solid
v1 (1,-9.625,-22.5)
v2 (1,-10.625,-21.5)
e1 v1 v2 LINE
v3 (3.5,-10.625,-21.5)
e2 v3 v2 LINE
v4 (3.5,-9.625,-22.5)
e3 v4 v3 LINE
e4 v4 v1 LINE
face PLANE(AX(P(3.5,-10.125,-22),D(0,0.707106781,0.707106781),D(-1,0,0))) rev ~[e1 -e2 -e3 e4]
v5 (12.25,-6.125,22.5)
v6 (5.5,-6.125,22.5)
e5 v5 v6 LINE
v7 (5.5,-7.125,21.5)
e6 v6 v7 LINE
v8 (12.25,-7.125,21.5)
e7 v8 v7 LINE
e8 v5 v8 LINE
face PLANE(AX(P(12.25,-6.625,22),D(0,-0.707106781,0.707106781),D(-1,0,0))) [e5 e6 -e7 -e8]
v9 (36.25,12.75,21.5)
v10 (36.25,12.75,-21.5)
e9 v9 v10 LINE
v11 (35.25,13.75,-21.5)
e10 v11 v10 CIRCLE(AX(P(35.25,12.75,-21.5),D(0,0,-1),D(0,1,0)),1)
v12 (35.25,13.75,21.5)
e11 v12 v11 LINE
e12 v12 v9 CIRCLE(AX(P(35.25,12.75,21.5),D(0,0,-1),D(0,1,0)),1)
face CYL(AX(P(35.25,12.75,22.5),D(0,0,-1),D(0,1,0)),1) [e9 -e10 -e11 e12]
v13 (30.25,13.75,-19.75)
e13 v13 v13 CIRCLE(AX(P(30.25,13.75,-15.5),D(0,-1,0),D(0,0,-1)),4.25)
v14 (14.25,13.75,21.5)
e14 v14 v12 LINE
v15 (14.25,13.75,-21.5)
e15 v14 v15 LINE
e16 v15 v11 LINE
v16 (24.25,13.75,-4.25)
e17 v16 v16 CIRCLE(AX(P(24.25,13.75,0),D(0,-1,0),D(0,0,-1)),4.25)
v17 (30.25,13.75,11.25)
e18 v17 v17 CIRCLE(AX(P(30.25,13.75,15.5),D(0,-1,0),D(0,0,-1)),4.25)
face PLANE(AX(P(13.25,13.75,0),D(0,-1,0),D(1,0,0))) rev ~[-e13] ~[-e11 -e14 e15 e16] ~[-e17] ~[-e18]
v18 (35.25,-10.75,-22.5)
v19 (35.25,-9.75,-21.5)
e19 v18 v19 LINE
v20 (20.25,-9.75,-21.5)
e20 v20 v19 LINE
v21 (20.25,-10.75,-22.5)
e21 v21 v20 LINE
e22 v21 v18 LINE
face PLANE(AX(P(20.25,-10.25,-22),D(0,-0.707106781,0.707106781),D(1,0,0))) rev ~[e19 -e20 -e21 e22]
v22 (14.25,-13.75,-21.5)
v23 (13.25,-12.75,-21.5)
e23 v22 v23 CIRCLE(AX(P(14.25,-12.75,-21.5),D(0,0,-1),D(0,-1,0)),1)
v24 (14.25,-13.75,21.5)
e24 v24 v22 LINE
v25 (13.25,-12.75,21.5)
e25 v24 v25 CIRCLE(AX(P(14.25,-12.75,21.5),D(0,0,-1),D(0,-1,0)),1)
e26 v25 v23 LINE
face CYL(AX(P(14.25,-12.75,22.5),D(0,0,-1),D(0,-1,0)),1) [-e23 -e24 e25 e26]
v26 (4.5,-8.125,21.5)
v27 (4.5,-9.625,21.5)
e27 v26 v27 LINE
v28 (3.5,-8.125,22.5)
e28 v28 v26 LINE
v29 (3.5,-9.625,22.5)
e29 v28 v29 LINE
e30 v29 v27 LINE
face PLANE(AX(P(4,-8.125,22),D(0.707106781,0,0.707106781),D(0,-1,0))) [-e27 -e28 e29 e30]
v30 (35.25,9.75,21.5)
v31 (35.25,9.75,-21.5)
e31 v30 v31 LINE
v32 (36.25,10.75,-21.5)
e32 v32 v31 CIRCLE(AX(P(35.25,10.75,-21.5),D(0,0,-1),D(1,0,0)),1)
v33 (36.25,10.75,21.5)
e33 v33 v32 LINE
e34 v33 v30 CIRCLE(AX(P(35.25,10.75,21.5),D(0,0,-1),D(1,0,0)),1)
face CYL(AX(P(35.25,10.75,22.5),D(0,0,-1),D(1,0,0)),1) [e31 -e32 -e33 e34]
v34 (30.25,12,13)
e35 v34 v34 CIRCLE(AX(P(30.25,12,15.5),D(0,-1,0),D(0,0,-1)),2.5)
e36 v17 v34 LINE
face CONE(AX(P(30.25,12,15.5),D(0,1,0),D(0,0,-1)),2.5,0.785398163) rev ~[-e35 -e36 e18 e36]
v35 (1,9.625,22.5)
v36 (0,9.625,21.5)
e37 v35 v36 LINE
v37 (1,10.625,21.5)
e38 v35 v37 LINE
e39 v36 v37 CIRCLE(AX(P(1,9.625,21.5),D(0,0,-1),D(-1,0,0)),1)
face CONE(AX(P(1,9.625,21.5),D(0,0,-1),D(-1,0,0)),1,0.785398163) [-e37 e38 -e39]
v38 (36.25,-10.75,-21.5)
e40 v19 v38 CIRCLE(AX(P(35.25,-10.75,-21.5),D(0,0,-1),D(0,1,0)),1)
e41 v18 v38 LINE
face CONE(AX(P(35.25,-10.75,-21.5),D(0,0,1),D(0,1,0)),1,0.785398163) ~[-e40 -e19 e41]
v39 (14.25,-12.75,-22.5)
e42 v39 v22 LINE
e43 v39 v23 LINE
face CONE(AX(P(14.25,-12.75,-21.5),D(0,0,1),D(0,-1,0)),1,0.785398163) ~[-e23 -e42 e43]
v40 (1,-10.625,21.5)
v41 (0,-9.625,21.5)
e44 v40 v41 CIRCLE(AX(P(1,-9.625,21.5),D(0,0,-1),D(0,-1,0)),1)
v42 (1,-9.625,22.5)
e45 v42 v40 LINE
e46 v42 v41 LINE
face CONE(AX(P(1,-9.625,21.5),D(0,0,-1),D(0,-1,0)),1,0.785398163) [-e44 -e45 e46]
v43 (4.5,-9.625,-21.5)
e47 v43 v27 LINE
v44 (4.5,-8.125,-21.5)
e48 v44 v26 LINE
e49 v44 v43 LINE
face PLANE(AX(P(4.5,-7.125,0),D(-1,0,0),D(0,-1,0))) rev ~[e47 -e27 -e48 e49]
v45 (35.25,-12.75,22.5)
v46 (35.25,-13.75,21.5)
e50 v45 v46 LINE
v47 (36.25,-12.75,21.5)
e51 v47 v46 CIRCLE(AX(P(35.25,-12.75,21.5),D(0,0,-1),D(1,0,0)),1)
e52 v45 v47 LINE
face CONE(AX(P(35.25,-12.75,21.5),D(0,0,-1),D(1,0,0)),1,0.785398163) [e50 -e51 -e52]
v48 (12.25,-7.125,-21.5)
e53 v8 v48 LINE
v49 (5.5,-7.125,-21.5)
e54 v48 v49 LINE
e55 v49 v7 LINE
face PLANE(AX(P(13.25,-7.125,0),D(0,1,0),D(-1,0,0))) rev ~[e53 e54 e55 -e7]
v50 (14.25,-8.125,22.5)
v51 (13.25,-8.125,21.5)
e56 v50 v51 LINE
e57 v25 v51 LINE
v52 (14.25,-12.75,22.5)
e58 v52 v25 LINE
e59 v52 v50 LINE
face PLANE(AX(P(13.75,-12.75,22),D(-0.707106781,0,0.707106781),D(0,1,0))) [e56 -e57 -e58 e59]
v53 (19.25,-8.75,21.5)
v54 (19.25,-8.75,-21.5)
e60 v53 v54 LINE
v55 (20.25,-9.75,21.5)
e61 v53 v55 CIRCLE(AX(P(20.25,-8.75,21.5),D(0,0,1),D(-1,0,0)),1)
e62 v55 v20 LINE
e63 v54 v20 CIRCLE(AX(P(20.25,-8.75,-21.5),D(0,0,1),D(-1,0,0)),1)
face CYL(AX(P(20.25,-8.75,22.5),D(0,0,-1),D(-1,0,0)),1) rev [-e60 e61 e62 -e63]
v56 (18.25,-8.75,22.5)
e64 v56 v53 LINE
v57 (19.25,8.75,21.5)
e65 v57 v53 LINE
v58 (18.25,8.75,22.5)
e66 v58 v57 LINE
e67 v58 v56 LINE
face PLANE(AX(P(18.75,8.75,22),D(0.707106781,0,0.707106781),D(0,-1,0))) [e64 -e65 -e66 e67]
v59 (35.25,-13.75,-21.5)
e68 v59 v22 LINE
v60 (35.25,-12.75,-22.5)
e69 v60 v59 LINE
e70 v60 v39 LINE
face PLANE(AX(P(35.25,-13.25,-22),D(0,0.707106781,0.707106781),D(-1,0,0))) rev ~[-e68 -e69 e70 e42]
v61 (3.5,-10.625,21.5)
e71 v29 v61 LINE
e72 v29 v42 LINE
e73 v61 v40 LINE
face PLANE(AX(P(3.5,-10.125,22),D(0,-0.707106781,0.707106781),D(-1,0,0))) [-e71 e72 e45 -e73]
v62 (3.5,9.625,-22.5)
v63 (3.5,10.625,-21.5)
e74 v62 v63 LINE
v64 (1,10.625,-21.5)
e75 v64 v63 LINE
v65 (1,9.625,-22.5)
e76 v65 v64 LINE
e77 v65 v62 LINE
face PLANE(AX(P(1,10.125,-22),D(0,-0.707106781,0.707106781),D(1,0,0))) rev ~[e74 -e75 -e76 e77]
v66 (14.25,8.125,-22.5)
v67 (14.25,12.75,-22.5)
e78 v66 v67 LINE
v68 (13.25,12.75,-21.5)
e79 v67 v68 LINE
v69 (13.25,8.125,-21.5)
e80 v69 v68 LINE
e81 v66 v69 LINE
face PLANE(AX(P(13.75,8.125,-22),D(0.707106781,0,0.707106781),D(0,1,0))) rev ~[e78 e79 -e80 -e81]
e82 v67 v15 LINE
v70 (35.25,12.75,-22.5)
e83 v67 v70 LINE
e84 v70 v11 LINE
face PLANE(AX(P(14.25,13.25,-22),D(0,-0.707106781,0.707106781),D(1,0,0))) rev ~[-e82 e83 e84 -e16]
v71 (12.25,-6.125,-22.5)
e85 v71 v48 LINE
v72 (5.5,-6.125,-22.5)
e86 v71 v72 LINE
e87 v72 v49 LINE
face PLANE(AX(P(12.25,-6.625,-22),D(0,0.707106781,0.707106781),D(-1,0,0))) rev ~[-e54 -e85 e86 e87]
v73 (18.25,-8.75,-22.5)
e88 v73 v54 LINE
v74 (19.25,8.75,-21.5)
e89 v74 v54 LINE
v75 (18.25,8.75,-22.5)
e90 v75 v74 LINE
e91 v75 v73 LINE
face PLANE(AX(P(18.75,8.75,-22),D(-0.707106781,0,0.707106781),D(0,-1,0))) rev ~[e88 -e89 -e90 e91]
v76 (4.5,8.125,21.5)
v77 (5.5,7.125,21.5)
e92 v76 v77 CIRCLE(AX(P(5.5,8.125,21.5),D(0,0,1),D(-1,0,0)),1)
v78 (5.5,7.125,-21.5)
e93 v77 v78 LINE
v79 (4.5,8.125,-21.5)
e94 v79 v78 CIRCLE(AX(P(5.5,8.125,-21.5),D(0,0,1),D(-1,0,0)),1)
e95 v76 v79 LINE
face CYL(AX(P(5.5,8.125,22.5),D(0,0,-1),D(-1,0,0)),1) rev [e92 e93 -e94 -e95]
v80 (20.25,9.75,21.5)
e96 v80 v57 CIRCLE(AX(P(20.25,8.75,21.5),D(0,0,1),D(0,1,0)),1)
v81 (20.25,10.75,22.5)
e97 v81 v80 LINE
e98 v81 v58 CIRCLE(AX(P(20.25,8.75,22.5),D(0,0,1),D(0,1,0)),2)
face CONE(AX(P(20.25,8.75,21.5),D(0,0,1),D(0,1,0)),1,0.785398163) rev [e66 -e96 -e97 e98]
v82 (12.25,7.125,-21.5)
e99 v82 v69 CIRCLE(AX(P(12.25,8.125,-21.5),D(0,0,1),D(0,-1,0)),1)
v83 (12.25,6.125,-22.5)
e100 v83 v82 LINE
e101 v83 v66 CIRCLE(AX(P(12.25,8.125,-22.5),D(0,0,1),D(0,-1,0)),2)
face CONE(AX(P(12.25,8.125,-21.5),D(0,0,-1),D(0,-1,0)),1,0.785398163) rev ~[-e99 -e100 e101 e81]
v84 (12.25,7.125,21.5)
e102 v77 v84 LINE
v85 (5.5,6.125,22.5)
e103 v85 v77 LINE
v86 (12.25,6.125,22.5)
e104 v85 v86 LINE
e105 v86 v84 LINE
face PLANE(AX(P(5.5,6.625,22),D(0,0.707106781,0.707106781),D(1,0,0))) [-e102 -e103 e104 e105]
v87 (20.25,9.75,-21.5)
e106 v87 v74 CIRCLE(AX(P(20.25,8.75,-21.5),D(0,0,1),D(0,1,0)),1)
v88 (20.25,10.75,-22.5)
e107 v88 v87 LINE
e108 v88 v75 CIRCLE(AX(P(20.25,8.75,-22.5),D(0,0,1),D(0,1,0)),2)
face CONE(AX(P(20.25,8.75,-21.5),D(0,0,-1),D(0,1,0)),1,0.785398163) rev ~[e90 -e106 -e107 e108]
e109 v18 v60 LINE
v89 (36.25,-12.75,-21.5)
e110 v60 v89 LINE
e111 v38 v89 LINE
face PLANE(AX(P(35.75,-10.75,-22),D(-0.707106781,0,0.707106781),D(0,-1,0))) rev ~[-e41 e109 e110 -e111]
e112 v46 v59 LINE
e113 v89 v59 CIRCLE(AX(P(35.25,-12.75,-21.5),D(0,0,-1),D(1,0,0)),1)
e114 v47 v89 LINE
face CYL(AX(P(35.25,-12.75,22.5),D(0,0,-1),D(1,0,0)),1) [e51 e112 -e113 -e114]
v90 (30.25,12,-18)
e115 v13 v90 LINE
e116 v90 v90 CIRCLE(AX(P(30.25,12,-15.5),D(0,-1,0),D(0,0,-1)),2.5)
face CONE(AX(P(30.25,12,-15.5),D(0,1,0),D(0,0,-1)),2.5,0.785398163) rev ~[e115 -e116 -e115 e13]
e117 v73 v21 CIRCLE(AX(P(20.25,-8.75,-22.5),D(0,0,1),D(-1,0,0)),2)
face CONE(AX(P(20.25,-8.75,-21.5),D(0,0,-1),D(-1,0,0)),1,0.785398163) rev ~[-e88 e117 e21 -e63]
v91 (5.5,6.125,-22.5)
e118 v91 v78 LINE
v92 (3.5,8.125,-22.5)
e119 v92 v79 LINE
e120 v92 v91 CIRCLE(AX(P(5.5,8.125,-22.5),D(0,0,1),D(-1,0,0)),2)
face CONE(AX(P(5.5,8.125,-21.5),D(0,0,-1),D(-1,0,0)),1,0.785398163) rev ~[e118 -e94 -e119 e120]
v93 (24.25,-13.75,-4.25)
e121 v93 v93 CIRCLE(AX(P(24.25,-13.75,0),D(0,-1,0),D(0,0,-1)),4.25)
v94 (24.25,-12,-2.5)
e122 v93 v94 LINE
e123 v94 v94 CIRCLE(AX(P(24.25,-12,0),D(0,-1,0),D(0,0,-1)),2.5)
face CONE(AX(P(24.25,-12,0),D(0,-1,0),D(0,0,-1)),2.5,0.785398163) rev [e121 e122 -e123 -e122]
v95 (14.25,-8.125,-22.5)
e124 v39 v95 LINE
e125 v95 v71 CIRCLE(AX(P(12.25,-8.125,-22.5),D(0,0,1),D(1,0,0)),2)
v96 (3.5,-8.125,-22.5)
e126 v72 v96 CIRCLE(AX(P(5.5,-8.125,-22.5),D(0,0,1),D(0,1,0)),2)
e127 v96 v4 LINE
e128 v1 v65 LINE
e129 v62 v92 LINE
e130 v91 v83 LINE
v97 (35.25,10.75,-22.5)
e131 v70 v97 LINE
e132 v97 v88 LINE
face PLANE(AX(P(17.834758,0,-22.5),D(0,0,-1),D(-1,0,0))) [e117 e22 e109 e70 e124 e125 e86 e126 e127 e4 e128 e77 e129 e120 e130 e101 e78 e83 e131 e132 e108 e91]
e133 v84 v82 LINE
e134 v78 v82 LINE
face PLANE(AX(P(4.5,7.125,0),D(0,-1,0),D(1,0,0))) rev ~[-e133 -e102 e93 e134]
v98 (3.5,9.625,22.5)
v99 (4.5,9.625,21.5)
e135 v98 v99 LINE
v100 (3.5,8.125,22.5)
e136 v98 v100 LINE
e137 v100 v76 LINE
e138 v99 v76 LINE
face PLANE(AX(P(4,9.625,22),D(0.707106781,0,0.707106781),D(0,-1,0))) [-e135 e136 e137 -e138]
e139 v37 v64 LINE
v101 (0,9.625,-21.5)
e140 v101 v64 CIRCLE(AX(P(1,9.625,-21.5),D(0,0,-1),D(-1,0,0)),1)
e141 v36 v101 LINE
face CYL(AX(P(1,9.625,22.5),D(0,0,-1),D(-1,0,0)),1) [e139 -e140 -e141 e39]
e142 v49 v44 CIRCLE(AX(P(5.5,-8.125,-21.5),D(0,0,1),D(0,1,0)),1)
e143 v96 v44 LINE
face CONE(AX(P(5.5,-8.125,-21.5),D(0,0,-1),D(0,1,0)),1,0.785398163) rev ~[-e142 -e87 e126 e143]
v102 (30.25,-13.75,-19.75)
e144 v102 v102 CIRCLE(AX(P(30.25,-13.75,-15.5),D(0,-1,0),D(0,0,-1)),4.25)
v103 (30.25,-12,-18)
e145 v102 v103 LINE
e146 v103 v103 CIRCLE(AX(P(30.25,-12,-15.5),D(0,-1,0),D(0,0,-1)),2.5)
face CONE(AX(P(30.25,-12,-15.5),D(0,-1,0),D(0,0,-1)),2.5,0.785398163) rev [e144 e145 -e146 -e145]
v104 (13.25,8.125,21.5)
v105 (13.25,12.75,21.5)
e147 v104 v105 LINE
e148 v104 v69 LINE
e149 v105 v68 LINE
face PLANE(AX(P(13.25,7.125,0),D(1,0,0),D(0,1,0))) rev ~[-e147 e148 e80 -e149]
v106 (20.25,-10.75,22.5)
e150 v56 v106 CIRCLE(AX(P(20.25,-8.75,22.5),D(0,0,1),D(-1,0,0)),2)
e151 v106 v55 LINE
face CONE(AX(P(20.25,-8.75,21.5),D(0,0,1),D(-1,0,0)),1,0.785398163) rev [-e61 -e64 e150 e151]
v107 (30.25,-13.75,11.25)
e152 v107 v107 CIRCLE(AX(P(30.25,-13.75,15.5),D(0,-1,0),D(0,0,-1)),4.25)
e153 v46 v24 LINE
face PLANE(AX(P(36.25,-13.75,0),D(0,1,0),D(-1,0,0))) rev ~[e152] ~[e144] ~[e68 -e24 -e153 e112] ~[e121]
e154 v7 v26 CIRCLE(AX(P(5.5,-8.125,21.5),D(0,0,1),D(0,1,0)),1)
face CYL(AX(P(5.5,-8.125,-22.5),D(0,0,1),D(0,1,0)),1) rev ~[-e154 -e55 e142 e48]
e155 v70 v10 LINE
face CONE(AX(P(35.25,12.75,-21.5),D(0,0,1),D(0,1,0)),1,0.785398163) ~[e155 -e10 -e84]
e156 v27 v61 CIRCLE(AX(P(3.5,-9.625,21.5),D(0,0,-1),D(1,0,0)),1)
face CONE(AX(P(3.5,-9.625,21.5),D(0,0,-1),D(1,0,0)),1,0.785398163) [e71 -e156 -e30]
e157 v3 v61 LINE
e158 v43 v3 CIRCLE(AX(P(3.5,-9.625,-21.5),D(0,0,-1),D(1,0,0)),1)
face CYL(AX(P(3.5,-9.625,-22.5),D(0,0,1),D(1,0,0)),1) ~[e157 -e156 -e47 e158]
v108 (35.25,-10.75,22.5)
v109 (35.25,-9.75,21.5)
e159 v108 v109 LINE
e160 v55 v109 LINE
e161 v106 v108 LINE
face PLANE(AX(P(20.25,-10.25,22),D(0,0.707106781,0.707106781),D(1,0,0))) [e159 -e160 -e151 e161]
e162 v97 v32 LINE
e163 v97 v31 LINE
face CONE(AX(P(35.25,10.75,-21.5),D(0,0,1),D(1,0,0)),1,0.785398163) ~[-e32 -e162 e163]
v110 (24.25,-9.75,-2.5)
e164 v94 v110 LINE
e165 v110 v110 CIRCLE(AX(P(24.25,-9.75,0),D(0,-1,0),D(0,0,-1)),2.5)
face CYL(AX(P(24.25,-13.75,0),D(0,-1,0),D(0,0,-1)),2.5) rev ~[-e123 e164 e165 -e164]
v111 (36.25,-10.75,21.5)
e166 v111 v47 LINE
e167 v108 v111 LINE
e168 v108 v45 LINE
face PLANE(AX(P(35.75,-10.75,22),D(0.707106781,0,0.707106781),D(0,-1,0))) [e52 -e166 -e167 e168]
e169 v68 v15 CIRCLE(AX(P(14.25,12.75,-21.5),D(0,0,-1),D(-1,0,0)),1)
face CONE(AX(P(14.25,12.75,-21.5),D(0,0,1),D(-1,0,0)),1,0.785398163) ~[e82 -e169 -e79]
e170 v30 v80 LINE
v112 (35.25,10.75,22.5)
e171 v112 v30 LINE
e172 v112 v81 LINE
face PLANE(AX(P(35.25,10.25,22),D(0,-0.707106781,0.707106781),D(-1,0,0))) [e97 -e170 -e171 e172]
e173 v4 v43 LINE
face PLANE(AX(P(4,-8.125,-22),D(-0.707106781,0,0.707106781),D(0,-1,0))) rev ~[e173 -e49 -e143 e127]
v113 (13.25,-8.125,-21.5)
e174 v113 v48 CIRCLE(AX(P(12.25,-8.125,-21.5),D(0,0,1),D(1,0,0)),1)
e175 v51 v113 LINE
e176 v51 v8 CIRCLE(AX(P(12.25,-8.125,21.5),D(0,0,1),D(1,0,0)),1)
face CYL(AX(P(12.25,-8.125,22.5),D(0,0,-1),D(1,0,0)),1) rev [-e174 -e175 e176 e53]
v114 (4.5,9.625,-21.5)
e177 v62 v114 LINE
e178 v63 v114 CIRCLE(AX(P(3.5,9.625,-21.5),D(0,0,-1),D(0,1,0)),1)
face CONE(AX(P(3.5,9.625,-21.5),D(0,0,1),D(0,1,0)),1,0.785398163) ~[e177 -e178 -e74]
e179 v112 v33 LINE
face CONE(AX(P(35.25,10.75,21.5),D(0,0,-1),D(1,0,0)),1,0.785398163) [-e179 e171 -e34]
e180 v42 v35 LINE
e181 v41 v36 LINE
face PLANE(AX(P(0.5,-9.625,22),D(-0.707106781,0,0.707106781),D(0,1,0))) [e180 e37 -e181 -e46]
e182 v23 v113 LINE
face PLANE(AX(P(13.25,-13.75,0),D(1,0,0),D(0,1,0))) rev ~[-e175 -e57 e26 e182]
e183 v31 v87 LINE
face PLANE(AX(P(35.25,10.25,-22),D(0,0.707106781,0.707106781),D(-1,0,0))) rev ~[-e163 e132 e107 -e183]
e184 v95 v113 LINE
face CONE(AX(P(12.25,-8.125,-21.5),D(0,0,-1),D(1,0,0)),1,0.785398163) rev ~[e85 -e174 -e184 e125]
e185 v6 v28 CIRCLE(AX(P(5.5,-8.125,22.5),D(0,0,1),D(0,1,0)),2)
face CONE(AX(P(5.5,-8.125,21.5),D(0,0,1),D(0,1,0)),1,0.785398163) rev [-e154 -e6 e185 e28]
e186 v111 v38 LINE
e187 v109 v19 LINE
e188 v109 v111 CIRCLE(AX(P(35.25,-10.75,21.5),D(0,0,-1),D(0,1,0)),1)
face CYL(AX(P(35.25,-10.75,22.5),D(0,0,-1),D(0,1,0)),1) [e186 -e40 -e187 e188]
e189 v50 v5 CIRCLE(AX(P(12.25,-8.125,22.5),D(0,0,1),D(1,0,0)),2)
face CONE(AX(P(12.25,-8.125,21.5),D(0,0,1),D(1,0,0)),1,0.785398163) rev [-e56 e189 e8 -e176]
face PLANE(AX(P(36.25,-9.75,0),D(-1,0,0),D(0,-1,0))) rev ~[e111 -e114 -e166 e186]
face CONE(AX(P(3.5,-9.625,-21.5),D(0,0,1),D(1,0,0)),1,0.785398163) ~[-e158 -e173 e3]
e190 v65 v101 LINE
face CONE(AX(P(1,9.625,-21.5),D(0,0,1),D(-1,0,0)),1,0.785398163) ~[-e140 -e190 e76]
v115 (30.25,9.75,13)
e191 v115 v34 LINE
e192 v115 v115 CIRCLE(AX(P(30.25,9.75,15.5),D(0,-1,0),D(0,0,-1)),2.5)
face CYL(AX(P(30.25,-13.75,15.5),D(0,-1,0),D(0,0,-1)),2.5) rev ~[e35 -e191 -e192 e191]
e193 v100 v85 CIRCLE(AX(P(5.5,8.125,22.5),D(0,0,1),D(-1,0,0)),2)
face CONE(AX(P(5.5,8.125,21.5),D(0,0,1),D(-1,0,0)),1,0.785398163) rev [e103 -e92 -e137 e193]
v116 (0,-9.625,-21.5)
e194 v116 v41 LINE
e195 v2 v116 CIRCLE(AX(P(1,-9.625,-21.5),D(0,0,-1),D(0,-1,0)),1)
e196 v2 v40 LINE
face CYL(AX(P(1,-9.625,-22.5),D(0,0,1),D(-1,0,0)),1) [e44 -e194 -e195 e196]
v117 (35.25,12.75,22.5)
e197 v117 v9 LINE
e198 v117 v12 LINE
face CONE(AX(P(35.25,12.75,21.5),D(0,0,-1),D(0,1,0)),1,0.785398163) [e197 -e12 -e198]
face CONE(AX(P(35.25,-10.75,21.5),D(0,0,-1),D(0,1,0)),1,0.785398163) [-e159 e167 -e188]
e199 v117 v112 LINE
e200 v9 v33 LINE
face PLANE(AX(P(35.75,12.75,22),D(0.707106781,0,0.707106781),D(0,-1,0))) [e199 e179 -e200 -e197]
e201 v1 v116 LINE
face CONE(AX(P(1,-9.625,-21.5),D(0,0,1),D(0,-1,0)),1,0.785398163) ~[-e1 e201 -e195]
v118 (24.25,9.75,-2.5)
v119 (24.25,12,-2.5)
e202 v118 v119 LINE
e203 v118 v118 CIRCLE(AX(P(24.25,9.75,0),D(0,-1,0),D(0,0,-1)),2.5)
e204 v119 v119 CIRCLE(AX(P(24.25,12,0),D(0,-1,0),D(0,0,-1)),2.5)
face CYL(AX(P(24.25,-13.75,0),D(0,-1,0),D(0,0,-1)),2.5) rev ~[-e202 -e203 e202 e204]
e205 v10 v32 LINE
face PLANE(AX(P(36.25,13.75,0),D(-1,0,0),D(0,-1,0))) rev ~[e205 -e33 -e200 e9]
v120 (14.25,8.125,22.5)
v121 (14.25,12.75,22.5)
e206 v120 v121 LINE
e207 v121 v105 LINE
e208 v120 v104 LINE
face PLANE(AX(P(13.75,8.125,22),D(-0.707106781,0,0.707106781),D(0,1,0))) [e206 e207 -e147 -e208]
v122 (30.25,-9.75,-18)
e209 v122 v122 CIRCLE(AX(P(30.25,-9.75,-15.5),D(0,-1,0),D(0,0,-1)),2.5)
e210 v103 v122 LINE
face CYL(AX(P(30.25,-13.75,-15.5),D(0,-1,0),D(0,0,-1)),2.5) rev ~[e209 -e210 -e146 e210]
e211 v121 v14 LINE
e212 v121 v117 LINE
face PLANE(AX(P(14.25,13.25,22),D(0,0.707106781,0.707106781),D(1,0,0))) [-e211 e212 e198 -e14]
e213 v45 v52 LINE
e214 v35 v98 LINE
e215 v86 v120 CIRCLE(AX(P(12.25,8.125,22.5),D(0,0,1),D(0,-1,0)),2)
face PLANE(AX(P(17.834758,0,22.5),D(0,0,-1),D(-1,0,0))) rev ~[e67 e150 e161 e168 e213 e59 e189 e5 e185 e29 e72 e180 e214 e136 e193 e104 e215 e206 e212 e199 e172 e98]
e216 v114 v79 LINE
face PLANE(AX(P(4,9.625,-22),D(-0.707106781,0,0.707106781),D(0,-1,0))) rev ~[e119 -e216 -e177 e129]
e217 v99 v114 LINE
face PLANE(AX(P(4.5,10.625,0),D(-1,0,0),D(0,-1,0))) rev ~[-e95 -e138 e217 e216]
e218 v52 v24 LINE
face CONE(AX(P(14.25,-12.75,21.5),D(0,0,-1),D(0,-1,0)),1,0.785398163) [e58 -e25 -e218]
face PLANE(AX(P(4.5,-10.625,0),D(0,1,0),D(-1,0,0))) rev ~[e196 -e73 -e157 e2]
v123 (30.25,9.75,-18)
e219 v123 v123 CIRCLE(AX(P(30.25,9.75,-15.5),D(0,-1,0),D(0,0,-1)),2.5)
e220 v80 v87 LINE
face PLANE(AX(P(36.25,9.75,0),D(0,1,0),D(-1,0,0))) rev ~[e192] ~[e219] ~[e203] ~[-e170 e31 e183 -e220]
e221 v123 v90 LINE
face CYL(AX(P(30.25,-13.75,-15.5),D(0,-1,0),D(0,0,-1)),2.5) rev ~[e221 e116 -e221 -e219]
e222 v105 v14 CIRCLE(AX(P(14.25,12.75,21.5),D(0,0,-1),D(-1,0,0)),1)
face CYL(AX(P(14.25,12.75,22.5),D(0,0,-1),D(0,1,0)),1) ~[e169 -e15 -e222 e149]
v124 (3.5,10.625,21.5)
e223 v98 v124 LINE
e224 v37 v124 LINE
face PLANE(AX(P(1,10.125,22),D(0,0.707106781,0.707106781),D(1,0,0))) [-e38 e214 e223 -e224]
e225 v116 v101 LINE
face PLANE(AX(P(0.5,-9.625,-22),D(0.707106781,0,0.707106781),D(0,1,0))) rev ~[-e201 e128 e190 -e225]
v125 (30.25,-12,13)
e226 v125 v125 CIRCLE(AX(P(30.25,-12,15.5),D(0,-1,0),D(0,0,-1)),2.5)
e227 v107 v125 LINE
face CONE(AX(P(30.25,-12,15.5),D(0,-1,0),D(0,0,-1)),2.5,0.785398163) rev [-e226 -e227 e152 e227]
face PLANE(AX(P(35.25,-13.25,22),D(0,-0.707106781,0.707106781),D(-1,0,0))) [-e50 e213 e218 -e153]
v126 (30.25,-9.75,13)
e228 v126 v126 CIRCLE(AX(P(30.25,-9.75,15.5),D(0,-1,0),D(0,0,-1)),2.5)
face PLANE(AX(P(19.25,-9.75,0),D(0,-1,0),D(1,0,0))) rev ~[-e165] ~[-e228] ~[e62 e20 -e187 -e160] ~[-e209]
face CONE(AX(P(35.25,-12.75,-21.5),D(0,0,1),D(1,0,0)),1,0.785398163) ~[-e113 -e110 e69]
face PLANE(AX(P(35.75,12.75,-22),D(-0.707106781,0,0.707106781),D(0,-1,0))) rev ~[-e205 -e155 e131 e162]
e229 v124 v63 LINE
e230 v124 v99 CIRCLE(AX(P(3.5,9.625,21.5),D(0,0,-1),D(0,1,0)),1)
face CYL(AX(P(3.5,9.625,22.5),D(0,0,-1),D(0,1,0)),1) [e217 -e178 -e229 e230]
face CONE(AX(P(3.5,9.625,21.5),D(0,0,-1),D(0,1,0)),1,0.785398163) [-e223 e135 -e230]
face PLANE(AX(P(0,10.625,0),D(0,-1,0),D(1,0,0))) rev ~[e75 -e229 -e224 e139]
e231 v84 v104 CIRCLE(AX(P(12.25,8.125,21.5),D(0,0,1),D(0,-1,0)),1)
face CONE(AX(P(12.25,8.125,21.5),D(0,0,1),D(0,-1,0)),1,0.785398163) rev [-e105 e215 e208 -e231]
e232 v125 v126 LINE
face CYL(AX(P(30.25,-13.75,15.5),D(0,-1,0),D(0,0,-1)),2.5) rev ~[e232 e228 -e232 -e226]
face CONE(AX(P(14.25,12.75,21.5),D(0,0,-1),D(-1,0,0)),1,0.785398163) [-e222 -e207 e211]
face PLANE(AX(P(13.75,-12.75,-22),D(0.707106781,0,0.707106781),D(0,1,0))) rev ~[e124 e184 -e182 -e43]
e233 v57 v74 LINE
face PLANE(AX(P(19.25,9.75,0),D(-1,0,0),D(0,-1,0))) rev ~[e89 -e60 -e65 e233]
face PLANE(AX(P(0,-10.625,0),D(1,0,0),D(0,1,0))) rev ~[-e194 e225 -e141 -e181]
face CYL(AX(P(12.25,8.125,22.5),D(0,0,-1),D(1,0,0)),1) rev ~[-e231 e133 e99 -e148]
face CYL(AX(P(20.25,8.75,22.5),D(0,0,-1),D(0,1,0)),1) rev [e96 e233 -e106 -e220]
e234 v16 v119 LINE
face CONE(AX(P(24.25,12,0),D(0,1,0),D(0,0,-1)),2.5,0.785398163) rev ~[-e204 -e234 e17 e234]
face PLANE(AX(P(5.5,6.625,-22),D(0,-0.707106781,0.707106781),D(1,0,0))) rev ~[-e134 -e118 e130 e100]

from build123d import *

# Parameters (mm, degrees)
BOSS_EXTRUDE1_DEPTH = 22.5
SKETCH2_R           = 2.5
CUT_EXTRUDE1_DEPTH  = 51.759851261
CHAMFER1_SIZE       = 1.75
FILLET1_R           = 1
CHAMFER2_SIZE       = 1


with BuildPart() as part:
    # Sketch1 → Boss-Extrude1 (new, symmetric)
    with BuildSketch(Plane.XY):
        Polygon((0, -10.625), (0, 10.625), (4.5, 10.625), (4.5, 7.125), (13.25, 7.125), (13.25, 13.75), (36.25, 13.75), (36.25, 9.75), (19.25, 9.75), (19.25, -9.75), (36.25, -9.75), (36.25, -13.75), (13.25, -13.75), (13.25, -7.125), (4.5, -7.125), (4.5, -10.625), align=None)
    extrude(amount=BOSS_EXTRUDE1_DEPTH, both=True)

    # Sketch2 → Cut-Extrude1 (cut, through all)
    with BuildSketch(Plane.XZ.offset(13.75)):
        with Locations(Location((30.25, 15.5, 0), (0, 0, 270))):
            Circle(SKETCH2_R)
        with Locations(Location((24.25, 0, 0), (0, 0, 270))):
            Circle(SKETCH2_R)
        with Locations(Location((30.25, -15.5, 0), (0, 0, 270))):
            Circle(SKETCH2_R)
    extrude(amount=-CUT_EXTRUDE1_DEPTH, mode=Mode.SUBTRACT)

    # Chamfer1
    chamfer1_edges = [part.edges().sort_by_distance(p)[0] for p in [
        (30.25, 13.75, 18),
        (30.25, -13.75, 18),
        (24.25, 13.75, 2.5),
        (24.25, -13.75, 2.5),
        (30.25, 13.75, -13),
        (30.25, -13.75, -13),
    ]]
    chamfer(chamfer1_edges, length=CHAMFER1_SIZE)

    # Fillet1
    fillet1_edges = [part.edges().sort_by_distance(p)[0] for p in [
        (4.5, 10.625, 0),
        (4.5, 7.125, 0),
        (13.25, 7.125, 0),
        (13.25, 13.75, 0),
        (36.25, 13.75, 0),
        (36.25, 9.75, 0),
        (19.25, 9.75, 0),
        (19.25, -9.75, 0),
        (36.25, -9.75, 0),
        (36.25, -13.75, 0),
        (13.25, -13.75, 0),
        (13.25, -7.125, 0),
        (4.5, -7.125, 0),
        (4.5, -10.625, 0),
        (0, -10.625, 0),
        (0, 10.625, 0),
    ]]
    fillet(fillet1_edges, radius=FILLET1_R)

    # Chamfer2
    chamfer2_edges = [part.edges().sort_by_distance(p)[0] for p in [
        (0, 0, -22.5),
        (4.207106781, -10.332106781, -22.5),
        (0.292893219, 10.332106781, -22.5),
        (0.292893219, -10.332106781, -22.5),
        (13.542893219, -13.457106781, -22.5),
        (35.957106781, -13.457106781, -22.5),
        (35.957106781, -10.042893219, -22.5),
        (35.957106781, 10.042893219, -22.5),
        (35.957106781, 13.457106781, -22.5),
        (13.542893219, 13.457106781, -22.5),
        (4.207106781, 10.332106781, -22.5),
        (4.5, 8.875, 22.5),
        (0, 0, 22.5),
        (2.25, -10.625, 22.5),
        (4.5, -8.875, 22.5),
        (8.875, -7.125, 22.5),
        (13.25, -10.4375, 22.5),
        (24.75, -13.75, 22.5),
        (36.25, -11.75, 22.5),
        (27.75, -9.75, 22.5),
        (19.25, 0, 22.5),
        (27.75, 9.75, 22.5),
        (36.25, 11.75, 22.5),
        (24.75, 13.75, 22.5),
        (13.25, 10.4375, 22.5),
        (8.875, 7.125, 22.5),
        (4.207106781, -10.332106781, 22.5),
        (0.292893219, 10.332106781, 22.5),
        (0.292893219, -10.332106781, 22.5),
        (13.542893219, -13.457106781, 22.5),
        (35.957106781, -13.457106781, 22.5),
        (35.957106781, -10.042893219, 22.5),
        (35.957106781, 10.042893219, 22.5),
        (35.957106781, 13.457106781, 22.5),
        (13.542893219, 13.457106781, 22.5),
        (4.207106781, 10.332106781, 22.5),
        (4.792893219, 7.417893219, -22.5),
        (4.792893219, 7.417893219, 22.5),
        (12.957106781, 7.417893219, -22.5),
        (12.957106781, 7.417893219, 22.5),
        (19.542893219, 9.457106781, -22.5),
        (19.542893219, 9.457106781, 22.5),
        (19.542893219, -9.457106781, -22.5),
        (19.542893219, -9.457106781, 22.5),
        (12.957106781, -7.417893219, -22.5),
        (12.957106781, -7.417893219, 22.5),
        (4.792893219, -7.417893219, -22.5),
        (4.792893219, -7.417893219, 22.5),
        (2.25, 10.625, -22.5),
        (2.25, 10.625, 22.5),
        (4.5, 8.875, -22.5),
        (8.875, 7.125, -22.5),
        (13.25, 10.4375, -22.5),
        (24.75, 13.75, -22.5),
        (36.25, 11.75, -22.5),
        (27.75, 9.75, -22.5),
        (19.25, 0, -22.5),
        (27.75, -9.75, -22.5),
        (36.25, -11.75, -22.5),
        (24.75, -13.75, -22.5),
        (13.25, -10.4375, -22.5),
        (8.875, -7.125, -22.5),
        (4.5, -8.875, -22.5),
        (2.25, -10.625, -22.5),
    ]]
    chamfer(chamfer2_edges, length=CHAMFER2_SIZE)


solid = part.part
